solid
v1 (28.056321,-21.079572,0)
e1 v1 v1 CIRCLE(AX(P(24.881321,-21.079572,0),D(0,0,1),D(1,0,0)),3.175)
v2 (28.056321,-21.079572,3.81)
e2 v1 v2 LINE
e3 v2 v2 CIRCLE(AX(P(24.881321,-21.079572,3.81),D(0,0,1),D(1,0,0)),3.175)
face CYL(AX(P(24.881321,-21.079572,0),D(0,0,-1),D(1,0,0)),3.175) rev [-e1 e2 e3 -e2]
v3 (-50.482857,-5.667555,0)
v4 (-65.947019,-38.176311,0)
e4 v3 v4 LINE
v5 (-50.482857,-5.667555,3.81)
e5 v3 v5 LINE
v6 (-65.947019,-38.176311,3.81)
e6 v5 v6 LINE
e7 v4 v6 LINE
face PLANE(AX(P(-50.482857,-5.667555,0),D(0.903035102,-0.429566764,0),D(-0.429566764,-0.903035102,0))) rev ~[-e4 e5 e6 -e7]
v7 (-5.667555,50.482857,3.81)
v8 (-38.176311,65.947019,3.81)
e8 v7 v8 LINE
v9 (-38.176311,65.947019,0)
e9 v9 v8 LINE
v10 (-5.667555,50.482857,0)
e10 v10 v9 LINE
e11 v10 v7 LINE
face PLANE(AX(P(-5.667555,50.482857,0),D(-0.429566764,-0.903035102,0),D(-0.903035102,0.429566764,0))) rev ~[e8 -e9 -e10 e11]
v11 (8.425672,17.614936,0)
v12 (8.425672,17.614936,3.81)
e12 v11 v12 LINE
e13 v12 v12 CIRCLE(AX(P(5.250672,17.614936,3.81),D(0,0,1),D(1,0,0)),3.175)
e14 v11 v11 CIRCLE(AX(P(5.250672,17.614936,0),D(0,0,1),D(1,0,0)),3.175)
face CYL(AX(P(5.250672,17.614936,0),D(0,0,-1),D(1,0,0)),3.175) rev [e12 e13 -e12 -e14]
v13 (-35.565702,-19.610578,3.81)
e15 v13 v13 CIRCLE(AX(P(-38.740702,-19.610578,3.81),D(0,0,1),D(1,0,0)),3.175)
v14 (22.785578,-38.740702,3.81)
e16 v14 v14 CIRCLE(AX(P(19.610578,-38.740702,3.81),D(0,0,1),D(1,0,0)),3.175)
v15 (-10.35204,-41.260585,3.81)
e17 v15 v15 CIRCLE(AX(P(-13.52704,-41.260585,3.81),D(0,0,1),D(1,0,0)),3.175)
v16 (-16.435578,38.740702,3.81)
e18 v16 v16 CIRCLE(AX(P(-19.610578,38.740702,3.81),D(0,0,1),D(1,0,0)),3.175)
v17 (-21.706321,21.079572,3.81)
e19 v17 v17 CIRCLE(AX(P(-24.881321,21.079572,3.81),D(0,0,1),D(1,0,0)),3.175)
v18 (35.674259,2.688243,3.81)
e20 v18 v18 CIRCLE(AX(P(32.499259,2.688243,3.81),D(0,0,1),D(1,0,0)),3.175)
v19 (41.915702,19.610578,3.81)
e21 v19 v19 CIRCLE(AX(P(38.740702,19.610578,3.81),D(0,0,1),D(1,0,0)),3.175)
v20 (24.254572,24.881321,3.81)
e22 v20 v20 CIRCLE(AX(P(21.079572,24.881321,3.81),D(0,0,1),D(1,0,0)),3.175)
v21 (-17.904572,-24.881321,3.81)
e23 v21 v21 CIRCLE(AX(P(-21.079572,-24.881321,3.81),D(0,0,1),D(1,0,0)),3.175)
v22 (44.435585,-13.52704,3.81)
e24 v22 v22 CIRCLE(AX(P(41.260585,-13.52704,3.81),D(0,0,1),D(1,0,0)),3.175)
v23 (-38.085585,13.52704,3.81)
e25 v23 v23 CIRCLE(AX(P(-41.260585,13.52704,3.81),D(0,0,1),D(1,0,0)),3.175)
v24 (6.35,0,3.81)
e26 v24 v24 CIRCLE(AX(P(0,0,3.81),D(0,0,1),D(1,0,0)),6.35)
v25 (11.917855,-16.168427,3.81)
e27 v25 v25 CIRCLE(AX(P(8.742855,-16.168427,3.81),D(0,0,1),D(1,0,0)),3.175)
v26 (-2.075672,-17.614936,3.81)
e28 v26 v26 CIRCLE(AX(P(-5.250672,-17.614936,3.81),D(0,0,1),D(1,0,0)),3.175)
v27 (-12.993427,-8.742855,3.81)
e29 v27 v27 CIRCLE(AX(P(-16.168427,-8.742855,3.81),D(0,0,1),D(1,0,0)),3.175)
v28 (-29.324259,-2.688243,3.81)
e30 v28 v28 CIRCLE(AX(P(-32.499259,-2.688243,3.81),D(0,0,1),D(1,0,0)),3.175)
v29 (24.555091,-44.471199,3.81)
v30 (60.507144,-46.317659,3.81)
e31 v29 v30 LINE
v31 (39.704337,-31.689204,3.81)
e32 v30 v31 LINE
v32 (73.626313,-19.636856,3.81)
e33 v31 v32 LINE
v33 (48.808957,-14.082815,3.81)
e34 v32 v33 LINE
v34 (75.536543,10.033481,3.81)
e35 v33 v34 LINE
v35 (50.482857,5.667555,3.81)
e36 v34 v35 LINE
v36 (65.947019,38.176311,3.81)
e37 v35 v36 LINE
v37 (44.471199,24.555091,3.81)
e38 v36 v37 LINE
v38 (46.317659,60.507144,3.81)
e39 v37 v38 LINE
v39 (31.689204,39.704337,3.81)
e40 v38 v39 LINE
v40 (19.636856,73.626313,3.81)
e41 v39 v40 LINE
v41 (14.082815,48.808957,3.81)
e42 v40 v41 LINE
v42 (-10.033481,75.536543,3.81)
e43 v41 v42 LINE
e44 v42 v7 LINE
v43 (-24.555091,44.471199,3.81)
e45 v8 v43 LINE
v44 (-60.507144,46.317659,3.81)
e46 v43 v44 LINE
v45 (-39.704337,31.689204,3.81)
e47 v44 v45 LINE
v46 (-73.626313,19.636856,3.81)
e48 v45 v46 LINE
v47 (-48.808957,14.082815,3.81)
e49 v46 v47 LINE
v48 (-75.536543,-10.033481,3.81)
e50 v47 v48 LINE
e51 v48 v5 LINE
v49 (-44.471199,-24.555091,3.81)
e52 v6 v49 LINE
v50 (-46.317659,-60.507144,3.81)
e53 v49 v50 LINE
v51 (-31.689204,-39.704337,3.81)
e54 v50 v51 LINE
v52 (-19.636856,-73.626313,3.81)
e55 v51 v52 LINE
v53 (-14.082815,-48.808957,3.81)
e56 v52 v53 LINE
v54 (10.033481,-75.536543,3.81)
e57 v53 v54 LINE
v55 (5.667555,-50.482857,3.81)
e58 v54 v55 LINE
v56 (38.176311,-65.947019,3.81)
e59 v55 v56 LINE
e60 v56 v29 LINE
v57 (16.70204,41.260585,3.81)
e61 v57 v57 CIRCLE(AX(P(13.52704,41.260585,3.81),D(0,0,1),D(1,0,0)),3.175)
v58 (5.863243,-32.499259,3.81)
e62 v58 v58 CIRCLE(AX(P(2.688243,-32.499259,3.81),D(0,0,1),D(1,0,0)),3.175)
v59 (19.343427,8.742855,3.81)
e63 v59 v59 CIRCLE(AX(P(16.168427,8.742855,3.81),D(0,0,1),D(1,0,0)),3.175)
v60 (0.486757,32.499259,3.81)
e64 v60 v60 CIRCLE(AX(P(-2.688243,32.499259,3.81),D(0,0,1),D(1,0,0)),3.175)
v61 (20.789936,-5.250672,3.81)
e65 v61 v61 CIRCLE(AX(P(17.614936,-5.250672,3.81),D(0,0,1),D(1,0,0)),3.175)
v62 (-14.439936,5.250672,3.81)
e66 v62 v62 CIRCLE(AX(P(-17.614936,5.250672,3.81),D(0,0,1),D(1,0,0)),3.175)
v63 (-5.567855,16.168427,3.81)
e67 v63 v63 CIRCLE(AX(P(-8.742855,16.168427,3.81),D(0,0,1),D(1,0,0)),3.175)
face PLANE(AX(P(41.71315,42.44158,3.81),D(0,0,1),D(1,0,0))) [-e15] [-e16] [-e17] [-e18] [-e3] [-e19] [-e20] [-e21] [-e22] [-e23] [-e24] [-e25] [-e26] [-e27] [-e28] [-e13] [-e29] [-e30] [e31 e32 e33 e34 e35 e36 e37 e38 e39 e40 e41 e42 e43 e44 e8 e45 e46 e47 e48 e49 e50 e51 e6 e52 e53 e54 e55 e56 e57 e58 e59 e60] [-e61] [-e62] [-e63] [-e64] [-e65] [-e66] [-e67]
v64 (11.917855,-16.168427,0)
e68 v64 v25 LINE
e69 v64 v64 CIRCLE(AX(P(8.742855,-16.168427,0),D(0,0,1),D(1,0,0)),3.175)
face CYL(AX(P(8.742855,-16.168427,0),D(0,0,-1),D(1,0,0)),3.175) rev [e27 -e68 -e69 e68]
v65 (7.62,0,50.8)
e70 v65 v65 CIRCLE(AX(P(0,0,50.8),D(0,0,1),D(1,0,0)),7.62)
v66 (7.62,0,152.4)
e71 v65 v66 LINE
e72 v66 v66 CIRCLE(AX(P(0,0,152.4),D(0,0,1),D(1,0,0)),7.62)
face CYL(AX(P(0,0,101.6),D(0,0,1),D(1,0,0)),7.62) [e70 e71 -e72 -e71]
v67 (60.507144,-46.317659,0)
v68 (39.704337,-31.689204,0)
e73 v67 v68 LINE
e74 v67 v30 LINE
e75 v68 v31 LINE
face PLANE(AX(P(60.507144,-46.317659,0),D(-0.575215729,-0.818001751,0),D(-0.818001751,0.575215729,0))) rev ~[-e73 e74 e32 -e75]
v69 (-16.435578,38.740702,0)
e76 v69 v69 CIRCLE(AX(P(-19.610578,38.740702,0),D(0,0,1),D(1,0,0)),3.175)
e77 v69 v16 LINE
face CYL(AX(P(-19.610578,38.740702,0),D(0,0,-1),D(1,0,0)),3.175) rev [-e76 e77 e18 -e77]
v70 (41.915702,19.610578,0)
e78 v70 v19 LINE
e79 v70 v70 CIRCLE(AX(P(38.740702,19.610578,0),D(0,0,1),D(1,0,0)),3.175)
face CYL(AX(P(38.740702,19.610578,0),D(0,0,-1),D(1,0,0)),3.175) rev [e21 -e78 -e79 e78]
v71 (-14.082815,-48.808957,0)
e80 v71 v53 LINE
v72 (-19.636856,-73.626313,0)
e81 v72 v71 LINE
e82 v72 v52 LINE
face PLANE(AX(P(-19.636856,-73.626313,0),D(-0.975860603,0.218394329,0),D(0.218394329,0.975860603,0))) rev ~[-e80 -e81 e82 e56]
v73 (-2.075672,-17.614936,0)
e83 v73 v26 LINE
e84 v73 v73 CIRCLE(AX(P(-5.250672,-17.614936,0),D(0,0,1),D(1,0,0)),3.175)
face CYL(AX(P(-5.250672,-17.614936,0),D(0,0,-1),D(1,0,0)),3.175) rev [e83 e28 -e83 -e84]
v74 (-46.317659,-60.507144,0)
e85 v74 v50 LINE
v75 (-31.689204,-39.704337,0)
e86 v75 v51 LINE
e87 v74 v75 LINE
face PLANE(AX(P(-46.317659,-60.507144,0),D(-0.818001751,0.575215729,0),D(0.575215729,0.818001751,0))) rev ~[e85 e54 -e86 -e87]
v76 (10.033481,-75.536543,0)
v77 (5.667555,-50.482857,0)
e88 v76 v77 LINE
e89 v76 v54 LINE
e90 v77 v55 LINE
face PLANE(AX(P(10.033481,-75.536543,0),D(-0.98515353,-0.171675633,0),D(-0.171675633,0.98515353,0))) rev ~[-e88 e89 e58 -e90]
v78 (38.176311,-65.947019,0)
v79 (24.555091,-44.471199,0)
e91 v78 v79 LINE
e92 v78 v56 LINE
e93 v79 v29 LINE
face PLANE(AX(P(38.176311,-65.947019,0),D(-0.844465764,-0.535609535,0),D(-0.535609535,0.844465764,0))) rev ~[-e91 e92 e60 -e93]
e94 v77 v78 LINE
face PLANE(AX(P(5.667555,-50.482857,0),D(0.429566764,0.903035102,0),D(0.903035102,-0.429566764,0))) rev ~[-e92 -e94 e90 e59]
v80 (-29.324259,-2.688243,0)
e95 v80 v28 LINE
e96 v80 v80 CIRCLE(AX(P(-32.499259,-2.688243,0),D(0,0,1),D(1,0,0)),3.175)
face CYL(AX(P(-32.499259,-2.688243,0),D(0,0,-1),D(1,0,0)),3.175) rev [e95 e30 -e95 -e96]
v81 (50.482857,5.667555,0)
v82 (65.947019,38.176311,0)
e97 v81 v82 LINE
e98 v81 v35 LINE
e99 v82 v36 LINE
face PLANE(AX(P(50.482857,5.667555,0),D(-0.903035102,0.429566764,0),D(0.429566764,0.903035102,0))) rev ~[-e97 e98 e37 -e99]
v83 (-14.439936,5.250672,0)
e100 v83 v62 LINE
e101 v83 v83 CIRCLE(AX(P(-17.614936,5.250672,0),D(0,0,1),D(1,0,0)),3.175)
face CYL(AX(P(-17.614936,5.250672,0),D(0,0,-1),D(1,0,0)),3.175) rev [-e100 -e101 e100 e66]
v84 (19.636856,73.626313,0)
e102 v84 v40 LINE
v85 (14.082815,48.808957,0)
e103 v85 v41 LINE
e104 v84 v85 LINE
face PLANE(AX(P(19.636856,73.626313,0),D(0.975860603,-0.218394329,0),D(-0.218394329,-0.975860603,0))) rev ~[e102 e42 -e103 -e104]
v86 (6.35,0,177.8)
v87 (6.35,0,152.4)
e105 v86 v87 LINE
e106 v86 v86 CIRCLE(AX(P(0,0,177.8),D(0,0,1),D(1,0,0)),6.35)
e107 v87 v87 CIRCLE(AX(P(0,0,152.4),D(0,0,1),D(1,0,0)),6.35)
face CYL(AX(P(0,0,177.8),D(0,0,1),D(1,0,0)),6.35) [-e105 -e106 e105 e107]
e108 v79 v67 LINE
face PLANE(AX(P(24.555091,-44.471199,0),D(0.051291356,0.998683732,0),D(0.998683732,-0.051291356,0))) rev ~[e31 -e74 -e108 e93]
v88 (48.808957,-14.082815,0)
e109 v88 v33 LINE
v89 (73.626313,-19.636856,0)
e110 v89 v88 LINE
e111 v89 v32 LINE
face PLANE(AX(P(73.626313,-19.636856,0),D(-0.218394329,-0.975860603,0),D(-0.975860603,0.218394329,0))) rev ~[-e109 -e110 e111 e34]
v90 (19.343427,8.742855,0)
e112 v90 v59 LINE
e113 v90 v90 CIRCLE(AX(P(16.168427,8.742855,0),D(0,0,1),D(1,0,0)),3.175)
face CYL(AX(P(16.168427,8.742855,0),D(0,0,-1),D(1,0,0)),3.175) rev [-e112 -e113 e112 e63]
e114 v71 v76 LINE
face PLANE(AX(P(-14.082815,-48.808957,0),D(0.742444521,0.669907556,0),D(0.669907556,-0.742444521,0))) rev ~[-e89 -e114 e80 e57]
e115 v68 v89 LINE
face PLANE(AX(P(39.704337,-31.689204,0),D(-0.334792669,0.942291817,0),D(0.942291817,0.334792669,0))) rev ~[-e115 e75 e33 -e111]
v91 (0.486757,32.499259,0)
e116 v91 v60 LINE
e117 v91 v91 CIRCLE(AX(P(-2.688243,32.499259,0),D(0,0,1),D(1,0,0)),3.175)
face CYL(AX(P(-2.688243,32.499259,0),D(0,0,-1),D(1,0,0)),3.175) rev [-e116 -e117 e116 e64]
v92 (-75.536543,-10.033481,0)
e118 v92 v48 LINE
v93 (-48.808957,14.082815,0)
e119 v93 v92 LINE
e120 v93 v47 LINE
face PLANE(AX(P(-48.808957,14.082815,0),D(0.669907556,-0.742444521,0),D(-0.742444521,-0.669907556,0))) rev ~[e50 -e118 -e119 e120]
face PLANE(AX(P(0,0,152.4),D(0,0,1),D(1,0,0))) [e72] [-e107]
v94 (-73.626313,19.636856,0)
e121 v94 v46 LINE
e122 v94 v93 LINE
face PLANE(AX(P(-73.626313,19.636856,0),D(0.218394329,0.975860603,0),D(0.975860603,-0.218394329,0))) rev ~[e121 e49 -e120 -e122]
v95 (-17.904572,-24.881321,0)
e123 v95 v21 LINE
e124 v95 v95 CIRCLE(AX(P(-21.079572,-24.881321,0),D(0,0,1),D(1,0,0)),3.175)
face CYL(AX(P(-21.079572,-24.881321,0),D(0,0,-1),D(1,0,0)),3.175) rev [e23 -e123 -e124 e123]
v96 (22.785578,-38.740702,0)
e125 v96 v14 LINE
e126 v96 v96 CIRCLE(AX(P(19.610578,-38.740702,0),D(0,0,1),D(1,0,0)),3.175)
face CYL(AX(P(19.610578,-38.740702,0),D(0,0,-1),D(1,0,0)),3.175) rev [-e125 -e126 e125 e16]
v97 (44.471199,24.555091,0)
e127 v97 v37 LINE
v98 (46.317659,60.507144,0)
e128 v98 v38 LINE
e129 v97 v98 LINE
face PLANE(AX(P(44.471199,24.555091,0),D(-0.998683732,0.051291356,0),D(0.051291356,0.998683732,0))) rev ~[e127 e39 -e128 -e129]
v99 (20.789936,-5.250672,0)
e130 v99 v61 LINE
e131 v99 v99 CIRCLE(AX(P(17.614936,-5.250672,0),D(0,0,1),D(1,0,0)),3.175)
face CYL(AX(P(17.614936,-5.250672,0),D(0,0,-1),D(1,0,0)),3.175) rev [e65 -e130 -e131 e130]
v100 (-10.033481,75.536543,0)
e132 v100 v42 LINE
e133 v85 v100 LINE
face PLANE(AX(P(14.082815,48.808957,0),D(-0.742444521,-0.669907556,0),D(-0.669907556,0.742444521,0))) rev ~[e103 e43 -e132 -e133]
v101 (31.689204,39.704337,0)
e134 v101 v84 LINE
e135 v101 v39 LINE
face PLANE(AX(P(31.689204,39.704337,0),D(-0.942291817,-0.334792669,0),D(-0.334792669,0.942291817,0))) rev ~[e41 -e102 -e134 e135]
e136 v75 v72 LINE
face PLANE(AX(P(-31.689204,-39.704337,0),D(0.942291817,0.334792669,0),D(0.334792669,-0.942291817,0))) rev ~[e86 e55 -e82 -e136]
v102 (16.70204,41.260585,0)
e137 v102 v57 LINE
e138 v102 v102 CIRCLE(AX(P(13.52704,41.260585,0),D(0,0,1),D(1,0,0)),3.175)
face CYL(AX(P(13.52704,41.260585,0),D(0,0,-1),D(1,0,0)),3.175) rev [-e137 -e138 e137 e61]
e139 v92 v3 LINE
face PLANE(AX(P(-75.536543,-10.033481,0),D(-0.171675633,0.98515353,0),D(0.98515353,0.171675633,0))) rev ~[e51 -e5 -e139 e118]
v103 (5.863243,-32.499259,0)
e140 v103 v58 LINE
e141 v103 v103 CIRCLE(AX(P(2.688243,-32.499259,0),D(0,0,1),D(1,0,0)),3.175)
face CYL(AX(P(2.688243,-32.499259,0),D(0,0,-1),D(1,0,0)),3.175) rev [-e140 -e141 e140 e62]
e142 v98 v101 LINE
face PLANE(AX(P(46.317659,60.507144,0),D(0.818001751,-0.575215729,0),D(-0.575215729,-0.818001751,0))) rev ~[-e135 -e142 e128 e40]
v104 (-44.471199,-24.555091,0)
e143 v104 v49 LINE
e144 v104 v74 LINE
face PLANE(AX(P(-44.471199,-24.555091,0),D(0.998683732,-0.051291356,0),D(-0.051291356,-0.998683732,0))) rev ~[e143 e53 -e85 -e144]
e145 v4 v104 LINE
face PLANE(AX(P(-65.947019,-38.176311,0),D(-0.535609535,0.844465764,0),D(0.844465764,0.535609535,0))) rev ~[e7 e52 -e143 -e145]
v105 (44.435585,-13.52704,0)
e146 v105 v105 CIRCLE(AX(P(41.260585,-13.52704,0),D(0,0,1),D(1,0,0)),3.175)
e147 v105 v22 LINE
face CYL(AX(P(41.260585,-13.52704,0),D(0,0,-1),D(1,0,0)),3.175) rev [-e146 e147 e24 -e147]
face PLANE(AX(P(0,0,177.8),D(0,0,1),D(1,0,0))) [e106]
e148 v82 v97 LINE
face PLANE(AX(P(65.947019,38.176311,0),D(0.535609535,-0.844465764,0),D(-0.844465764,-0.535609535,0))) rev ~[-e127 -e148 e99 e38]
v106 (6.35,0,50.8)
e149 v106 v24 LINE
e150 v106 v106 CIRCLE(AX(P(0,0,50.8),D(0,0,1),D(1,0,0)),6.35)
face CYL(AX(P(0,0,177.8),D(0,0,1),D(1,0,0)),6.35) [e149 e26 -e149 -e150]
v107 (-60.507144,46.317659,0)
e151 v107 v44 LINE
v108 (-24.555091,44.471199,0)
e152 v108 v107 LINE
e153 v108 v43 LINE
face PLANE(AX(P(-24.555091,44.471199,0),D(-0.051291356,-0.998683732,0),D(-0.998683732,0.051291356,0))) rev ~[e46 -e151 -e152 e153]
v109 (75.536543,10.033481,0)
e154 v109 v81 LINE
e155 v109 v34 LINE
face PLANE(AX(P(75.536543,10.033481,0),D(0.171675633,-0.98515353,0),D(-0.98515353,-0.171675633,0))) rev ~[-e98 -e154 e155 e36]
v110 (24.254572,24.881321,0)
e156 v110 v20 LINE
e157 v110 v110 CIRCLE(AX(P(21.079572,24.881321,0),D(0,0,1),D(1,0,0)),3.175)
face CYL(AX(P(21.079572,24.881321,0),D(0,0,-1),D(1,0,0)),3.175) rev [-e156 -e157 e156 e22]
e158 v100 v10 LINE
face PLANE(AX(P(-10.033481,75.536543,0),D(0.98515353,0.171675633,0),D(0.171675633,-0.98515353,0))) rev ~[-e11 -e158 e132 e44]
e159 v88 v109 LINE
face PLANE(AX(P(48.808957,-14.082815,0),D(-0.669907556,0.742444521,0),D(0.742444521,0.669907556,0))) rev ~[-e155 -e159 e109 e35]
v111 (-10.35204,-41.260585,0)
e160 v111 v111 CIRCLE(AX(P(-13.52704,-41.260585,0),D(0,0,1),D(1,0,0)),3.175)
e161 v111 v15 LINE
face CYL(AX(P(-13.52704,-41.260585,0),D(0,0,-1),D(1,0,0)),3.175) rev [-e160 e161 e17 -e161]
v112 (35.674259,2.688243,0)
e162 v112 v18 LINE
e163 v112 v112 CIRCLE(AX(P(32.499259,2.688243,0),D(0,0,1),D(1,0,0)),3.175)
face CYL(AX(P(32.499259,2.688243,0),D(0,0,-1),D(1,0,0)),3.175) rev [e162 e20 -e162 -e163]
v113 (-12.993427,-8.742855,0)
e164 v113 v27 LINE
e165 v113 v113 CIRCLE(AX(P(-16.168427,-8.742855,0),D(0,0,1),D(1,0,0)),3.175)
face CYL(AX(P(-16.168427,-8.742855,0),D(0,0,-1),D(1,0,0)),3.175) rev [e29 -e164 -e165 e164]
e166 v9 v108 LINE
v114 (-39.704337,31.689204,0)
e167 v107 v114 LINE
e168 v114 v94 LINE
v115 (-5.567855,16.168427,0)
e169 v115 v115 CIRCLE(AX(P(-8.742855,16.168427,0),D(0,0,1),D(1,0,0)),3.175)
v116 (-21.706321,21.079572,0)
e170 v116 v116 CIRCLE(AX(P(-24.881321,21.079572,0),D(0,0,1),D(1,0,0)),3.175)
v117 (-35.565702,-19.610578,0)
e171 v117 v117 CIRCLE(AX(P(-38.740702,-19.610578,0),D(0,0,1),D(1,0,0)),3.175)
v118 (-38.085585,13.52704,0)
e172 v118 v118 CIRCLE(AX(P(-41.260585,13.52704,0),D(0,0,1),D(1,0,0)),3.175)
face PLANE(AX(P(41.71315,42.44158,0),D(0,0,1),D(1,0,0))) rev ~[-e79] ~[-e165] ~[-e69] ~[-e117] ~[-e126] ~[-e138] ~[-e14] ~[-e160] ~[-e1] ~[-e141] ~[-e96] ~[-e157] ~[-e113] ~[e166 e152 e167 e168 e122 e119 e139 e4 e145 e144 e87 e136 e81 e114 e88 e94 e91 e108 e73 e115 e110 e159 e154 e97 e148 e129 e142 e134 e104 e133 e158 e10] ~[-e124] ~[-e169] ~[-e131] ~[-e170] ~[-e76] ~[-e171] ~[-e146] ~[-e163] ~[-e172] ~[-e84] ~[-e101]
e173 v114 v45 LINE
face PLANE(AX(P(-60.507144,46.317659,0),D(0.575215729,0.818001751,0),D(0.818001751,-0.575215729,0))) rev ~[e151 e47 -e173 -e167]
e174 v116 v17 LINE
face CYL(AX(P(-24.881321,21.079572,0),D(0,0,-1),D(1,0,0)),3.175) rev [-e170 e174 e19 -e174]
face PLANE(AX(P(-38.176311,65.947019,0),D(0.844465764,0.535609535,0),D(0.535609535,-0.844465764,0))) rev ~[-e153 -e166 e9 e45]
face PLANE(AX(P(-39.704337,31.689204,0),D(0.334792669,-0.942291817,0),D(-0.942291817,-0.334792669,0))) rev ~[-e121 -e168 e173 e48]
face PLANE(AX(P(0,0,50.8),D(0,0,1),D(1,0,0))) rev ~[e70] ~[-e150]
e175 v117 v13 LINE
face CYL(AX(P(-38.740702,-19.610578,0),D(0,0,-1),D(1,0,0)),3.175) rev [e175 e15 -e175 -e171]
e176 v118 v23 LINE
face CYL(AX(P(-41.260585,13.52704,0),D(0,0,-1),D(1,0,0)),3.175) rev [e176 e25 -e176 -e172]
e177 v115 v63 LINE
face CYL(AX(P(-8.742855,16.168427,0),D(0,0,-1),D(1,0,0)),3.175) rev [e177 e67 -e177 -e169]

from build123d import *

# Parameters (mm, degrees)
F4_R      = 6.35
F5_DEPTH  = 177.8
F6_R      = 3.175
F7_DEPTH  = 3.81
F9_R      = 7.62
F10_DEPTH = 50.8


with BuildPart() as f5:
    # F4 (on offset) → F5 (new body)
    with BuildSketch(Plane.XY.offset(177.8)):
        Circle(F4_R)
    extrude(amount=-F5_DEPTH)

    # F6 (on Top) → F7 (join)
    with BuildSketch(Plane.XY):
        with BuildLine():
            Line((44.471199, 24.555091), (46.317659, 60.507144))
            Line((46.317659, 60.507144), (31.689204, 39.704337))
            ThreePointArc((31.689204, 39.704337), (38.826236, 32.759172), (44.471199, 24.555091))
        make_face()
        with BuildLine():
            Line((31.689204, 39.704337), (19.636856, 73.626313))
            Line((19.636856, 73.626313), (14.082815, 48.808957))
            ThreePointArc((14.082815, 48.808957), (23.334373, 45.123686), (31.689204, 39.704337))
        make_face()
        with BuildLine():
            Line((14.082815, 48.808957), (-10.033481, 75.536543))
            Line((-10.033481, 75.536543), (-5.667555, 50.482857))
            ThreePointArc((-5.667555, 50.482857), (4.290062, 50.618528), (14.082815, 48.808957))
        make_face()
        with BuildLine():
            Line((-5.667555, 50.482857), (-38.176311, 65.947019))
            Line((-38.176311, 65.947019), (-24.555091, 44.471199))
            ThreePointArc((-24.555091, 44.471199), (-15.407371, 48.407158), (-5.667555, 50.482857))
        make_face()
        with BuildLine():
            Line((-24.555091, 44.471199), (-60.507144, 46.317659))
            Line((-60.507144, 46.317659), (-39.704337, 31.689204))
            ThreePointArc((-39.704337, 31.689204), (-32.759172, 38.826236), (-24.555091, 44.471199))
        make_face()
        with BuildLine():
            Line((-39.704337, 31.689204), (-73.626313, 19.636856))
            Line((-73.626313, 19.636856), (-48.808957, 14.082815))
            ThreePointArc((-48.808957, 14.082815), (-45.123686, 23.334373), (-39.704337, 31.689204))
        make_face()
        with BuildLine():
            Line((-48.808957, 14.082815), (-75.536543, -10.033481))
            Line((-75.536543, -10.033481), (-50.482857, -5.667555))
            ThreePointArc((-50.482857, -5.667555), (-50.618528, 4.290062), (-48.808957, 14.082815))
        make_face()
        with BuildLine():
            Line((-50.482857, -5.667555), (-65.947019, -38.176311))
            Line((-65.947019, -38.176311), (-44.471199, -24.555091))
            ThreePointArc((-44.471199, -24.555091), (-48.407158, -15.407371), (-50.482857, -5.667555))
        make_face()
        with BuildLine():
            Line((-44.471199, -24.555091), (-46.317659, -60.507144))
            Line((-46.317659, -60.507144), (-31.689204, -39.704337))
            ThreePointArc((-31.689204, -39.704337), (-38.826236, -32.759172), (-44.471199, -24.555091))
        make_face()
        with BuildLine():
            Line((50.482857, 5.667555), (65.947019, 38.176311))
            Line((65.947019, 38.176311), (44.471199, 24.555091))
            ThreePointArc((44.471199, 24.555091), (48.407158, 15.407371), (50.482857, 5.667555))
        make_face()
        with BuildLine():
            Line((39.704337, -31.689204), (73.626313, -19.636856))
            Line((73.626313, -19.636856), (48.808957, -14.082815))
            ThreePointArc((48.808957, -14.082815), (45.123686, -23.334373), (39.704337, -31.689204))
        make_face()
        with BuildLine():
            Line((24.555091, -44.471199), (60.507144, -46.317659))
            Line((60.507144, -46.317659), (39.704337, -31.689204))
            ThreePointArc((39.704337, -31.689204), (32.759172, -38.826236), (24.555091, -44.471199))
        make_face()
        with BuildLine():
            Line((5.667555, -50.482857), (38.176311, -65.947019))
            Line((38.176311, -65.947019), (24.555091, -44.471199))
            ThreePointArc((24.555091, -44.471199), (15.407371, -48.407158), (5.667555, -50.482857))
        make_face()
        with BuildLine():
            Line((-31.689204, -39.704337), (-19.636856, -73.626313))
            Line((-19.636856, -73.626313), (-14.082815, -48.808957))
            ThreePointArc((-14.082815, -48.808957), (-23.334373, -45.123686), (-31.689204, -39.704337))
        make_face()
        with BuildLine():
            Line((48.808957, -14.082815), (75.536543, 10.033481))
            Line((75.536543, 10.033481), (50.482857, 5.667555))
            ThreePointArc((50.482857, 5.667555), (50.720652, 2.838211), (50.8, 0))
            ThreePointArc((50.8, 0), (50.299777, -7.111433), (48.808957, -14.082815))
        make_face()
        with BuildLine():
            ThreePointArc((50.8, 0), (50.720652, 2.838211), (50.482857, 5.667555))
            ThreePointArc((50.482857, 5.667555), (48.407158, 15.407371), (44.471199, 24.555091))
            ThreePointArc((44.471199, 24.555091), (38.826236, 32.759172), (31.689204, 39.704337))
            ThreePointArc((31.689204, 39.704337), (23.334373, 45.123686), (14.082815, 48.808957))
            ThreePointArc((14.082815, 48.808957), (4.290062, 50.618528), (-5.667555, 50.482857))
            ThreePointArc((-5.667555, 50.482857), (-15.407371, 48.407158), (-24.555091, 44.471199))
            ThreePointArc((-24.555091, 44.471199), (-32.759172, 38.826236), (-39.704337, 31.689204))
            ThreePointArc((-39.704337, 31.689204), (-45.123686, 23.334373), (-48.808957, 14.082815))
            ThreePointArc((-48.808957, 14.082815), (-50.618528, 4.290062), (-50.482857, -5.667555))
            ThreePointArc((-50.482857, -5.667555), (-48.407158, -15.407371), (-44.471199, -24.555091))
            ThreePointArc((-44.471199, -24.555091), (-38.826236, -32.759172), (-31.689204, -39.704337))
            ThreePointArc((-31.689204, -39.704337), (-23.334373, -45.123686), (-14.082815, -48.808957))
            ThreePointArc((-14.082815, -48.808957), (-4.290062, -50.618528), (5.667555, -50.482857))
            ThreePointArc((5.667555, -50.482857), (15.407371, -48.407158), (24.555091, -44.471199))
            ThreePointArc((24.555091, -44.471199), (32.759172, -38.826236), (39.704337, -31.689204))
            ThreePointArc((39.704337, -31.689204), (45.123686, -23.334373), (48.808957, -14.082815))
            ThreePointArc((48.808957, -14.082815), (50.299777, -7.111433), (50.8, 0))
        make_face()
        with Locations((-13.52704, -41.260585)):
            Circle(F6_R, mode=Mode.SUBTRACT)
        with Locations((-38.740702, -19.610578)):
            Circle(F6_R, mode=Mode.SUBTRACT)
        with Locations((-21.079572, -24.881321)):
            Circle(F6_R, mode=Mode.SUBTRACT)
        with Locations((-32.499259, -2.688243)):
            Circle(F6_R, mode=Mode.SUBTRACT)
        with Locations((-5.250672, -17.614936)):
            Circle(F6_R, mode=Mode.SUBTRACT)
        with Locations((-16.168427, -8.742855)):
            Circle(F6_R, mode=Mode.SUBTRACT)
        with Locations((19.610578, -38.740702)):
            Circle(F6_R, mode=Mode.SUBTRACT)
        with Locations((2.688243, -32.499259)):
            Circle(F6_R, mode=Mode.SUBTRACT)
        with Locations((24.881321, -21.079572)):
            Circle(F6_R, mode=Mode.SUBTRACT)
        with Locations((8.742855, -16.168427)):
            Circle(F6_R, mode=Mode.SUBTRACT)
        with Locations((17.614936, -5.250672)):
            Circle(F6_R, mode=Mode.SUBTRACT)
        with Locations((41.260585, -13.52704)):
            Circle(F6_R, mode=Mode.SUBTRACT)
        with Locations((-41.260585, 13.52704)):
            Circle(F6_R, mode=Mode.SUBTRACT)
        with Locations((-17.614936, 5.250672)):
            Circle(F6_R, mode=Mode.SUBTRACT)
        with Locations((-8.742855, 16.168427)):
            Circle(F6_R, mode=Mode.SUBTRACT)
        with Locations((-24.881321, 21.079572)):
            Circle(F6_R, mode=Mode.SUBTRACT)
        with Locations((-2.688243, 32.499259)):
            Circle(F6_R, mode=Mode.SUBTRACT)
        with Locations((-19.610578, 38.740702)):
            Circle(F6_R, mode=Mode.SUBTRACT)
        with Locations((16.168427, 8.742855)):
            Circle(F6_R, mode=Mode.SUBTRACT)
        with Locations((5.250672, 17.614936)):
            Circle(F6_R, mode=Mode.SUBTRACT)
        with Locations((32.499259, 2.688243)):
            Circle(F6_R, mode=Mode.SUBTRACT)
        with Locations((21.079572, 24.881321)):
            Circle(F6_R, mode=Mode.SUBTRACT)
        with Locations((38.740702, 19.610578)):
            Circle(F6_R, mode=Mode.SUBTRACT)
        with Locations((13.52704, 41.260585)):
            Circle(F6_R, mode=Mode.SUBTRACT)
        with BuildLine():
            Line((-14.082815, -48.808957), (10.033481, -75.536543))
            Line((10.033481, -75.536543), (5.667555, -50.482857))
            ThreePointArc((5.667555, -50.482857), (-4.290062, -50.618528), (-14.082815, -48.808957))
        make_face()
    extrude(amount=F7_DEPTH)

    # F9 (on offset) → F10 (join, symmetric)
    with BuildSketch(Plane.XY.offset(101.6)):
        Circle(F9_R)
    extrude(amount=F10_DEPTH, both=True)


solid = f5.part
